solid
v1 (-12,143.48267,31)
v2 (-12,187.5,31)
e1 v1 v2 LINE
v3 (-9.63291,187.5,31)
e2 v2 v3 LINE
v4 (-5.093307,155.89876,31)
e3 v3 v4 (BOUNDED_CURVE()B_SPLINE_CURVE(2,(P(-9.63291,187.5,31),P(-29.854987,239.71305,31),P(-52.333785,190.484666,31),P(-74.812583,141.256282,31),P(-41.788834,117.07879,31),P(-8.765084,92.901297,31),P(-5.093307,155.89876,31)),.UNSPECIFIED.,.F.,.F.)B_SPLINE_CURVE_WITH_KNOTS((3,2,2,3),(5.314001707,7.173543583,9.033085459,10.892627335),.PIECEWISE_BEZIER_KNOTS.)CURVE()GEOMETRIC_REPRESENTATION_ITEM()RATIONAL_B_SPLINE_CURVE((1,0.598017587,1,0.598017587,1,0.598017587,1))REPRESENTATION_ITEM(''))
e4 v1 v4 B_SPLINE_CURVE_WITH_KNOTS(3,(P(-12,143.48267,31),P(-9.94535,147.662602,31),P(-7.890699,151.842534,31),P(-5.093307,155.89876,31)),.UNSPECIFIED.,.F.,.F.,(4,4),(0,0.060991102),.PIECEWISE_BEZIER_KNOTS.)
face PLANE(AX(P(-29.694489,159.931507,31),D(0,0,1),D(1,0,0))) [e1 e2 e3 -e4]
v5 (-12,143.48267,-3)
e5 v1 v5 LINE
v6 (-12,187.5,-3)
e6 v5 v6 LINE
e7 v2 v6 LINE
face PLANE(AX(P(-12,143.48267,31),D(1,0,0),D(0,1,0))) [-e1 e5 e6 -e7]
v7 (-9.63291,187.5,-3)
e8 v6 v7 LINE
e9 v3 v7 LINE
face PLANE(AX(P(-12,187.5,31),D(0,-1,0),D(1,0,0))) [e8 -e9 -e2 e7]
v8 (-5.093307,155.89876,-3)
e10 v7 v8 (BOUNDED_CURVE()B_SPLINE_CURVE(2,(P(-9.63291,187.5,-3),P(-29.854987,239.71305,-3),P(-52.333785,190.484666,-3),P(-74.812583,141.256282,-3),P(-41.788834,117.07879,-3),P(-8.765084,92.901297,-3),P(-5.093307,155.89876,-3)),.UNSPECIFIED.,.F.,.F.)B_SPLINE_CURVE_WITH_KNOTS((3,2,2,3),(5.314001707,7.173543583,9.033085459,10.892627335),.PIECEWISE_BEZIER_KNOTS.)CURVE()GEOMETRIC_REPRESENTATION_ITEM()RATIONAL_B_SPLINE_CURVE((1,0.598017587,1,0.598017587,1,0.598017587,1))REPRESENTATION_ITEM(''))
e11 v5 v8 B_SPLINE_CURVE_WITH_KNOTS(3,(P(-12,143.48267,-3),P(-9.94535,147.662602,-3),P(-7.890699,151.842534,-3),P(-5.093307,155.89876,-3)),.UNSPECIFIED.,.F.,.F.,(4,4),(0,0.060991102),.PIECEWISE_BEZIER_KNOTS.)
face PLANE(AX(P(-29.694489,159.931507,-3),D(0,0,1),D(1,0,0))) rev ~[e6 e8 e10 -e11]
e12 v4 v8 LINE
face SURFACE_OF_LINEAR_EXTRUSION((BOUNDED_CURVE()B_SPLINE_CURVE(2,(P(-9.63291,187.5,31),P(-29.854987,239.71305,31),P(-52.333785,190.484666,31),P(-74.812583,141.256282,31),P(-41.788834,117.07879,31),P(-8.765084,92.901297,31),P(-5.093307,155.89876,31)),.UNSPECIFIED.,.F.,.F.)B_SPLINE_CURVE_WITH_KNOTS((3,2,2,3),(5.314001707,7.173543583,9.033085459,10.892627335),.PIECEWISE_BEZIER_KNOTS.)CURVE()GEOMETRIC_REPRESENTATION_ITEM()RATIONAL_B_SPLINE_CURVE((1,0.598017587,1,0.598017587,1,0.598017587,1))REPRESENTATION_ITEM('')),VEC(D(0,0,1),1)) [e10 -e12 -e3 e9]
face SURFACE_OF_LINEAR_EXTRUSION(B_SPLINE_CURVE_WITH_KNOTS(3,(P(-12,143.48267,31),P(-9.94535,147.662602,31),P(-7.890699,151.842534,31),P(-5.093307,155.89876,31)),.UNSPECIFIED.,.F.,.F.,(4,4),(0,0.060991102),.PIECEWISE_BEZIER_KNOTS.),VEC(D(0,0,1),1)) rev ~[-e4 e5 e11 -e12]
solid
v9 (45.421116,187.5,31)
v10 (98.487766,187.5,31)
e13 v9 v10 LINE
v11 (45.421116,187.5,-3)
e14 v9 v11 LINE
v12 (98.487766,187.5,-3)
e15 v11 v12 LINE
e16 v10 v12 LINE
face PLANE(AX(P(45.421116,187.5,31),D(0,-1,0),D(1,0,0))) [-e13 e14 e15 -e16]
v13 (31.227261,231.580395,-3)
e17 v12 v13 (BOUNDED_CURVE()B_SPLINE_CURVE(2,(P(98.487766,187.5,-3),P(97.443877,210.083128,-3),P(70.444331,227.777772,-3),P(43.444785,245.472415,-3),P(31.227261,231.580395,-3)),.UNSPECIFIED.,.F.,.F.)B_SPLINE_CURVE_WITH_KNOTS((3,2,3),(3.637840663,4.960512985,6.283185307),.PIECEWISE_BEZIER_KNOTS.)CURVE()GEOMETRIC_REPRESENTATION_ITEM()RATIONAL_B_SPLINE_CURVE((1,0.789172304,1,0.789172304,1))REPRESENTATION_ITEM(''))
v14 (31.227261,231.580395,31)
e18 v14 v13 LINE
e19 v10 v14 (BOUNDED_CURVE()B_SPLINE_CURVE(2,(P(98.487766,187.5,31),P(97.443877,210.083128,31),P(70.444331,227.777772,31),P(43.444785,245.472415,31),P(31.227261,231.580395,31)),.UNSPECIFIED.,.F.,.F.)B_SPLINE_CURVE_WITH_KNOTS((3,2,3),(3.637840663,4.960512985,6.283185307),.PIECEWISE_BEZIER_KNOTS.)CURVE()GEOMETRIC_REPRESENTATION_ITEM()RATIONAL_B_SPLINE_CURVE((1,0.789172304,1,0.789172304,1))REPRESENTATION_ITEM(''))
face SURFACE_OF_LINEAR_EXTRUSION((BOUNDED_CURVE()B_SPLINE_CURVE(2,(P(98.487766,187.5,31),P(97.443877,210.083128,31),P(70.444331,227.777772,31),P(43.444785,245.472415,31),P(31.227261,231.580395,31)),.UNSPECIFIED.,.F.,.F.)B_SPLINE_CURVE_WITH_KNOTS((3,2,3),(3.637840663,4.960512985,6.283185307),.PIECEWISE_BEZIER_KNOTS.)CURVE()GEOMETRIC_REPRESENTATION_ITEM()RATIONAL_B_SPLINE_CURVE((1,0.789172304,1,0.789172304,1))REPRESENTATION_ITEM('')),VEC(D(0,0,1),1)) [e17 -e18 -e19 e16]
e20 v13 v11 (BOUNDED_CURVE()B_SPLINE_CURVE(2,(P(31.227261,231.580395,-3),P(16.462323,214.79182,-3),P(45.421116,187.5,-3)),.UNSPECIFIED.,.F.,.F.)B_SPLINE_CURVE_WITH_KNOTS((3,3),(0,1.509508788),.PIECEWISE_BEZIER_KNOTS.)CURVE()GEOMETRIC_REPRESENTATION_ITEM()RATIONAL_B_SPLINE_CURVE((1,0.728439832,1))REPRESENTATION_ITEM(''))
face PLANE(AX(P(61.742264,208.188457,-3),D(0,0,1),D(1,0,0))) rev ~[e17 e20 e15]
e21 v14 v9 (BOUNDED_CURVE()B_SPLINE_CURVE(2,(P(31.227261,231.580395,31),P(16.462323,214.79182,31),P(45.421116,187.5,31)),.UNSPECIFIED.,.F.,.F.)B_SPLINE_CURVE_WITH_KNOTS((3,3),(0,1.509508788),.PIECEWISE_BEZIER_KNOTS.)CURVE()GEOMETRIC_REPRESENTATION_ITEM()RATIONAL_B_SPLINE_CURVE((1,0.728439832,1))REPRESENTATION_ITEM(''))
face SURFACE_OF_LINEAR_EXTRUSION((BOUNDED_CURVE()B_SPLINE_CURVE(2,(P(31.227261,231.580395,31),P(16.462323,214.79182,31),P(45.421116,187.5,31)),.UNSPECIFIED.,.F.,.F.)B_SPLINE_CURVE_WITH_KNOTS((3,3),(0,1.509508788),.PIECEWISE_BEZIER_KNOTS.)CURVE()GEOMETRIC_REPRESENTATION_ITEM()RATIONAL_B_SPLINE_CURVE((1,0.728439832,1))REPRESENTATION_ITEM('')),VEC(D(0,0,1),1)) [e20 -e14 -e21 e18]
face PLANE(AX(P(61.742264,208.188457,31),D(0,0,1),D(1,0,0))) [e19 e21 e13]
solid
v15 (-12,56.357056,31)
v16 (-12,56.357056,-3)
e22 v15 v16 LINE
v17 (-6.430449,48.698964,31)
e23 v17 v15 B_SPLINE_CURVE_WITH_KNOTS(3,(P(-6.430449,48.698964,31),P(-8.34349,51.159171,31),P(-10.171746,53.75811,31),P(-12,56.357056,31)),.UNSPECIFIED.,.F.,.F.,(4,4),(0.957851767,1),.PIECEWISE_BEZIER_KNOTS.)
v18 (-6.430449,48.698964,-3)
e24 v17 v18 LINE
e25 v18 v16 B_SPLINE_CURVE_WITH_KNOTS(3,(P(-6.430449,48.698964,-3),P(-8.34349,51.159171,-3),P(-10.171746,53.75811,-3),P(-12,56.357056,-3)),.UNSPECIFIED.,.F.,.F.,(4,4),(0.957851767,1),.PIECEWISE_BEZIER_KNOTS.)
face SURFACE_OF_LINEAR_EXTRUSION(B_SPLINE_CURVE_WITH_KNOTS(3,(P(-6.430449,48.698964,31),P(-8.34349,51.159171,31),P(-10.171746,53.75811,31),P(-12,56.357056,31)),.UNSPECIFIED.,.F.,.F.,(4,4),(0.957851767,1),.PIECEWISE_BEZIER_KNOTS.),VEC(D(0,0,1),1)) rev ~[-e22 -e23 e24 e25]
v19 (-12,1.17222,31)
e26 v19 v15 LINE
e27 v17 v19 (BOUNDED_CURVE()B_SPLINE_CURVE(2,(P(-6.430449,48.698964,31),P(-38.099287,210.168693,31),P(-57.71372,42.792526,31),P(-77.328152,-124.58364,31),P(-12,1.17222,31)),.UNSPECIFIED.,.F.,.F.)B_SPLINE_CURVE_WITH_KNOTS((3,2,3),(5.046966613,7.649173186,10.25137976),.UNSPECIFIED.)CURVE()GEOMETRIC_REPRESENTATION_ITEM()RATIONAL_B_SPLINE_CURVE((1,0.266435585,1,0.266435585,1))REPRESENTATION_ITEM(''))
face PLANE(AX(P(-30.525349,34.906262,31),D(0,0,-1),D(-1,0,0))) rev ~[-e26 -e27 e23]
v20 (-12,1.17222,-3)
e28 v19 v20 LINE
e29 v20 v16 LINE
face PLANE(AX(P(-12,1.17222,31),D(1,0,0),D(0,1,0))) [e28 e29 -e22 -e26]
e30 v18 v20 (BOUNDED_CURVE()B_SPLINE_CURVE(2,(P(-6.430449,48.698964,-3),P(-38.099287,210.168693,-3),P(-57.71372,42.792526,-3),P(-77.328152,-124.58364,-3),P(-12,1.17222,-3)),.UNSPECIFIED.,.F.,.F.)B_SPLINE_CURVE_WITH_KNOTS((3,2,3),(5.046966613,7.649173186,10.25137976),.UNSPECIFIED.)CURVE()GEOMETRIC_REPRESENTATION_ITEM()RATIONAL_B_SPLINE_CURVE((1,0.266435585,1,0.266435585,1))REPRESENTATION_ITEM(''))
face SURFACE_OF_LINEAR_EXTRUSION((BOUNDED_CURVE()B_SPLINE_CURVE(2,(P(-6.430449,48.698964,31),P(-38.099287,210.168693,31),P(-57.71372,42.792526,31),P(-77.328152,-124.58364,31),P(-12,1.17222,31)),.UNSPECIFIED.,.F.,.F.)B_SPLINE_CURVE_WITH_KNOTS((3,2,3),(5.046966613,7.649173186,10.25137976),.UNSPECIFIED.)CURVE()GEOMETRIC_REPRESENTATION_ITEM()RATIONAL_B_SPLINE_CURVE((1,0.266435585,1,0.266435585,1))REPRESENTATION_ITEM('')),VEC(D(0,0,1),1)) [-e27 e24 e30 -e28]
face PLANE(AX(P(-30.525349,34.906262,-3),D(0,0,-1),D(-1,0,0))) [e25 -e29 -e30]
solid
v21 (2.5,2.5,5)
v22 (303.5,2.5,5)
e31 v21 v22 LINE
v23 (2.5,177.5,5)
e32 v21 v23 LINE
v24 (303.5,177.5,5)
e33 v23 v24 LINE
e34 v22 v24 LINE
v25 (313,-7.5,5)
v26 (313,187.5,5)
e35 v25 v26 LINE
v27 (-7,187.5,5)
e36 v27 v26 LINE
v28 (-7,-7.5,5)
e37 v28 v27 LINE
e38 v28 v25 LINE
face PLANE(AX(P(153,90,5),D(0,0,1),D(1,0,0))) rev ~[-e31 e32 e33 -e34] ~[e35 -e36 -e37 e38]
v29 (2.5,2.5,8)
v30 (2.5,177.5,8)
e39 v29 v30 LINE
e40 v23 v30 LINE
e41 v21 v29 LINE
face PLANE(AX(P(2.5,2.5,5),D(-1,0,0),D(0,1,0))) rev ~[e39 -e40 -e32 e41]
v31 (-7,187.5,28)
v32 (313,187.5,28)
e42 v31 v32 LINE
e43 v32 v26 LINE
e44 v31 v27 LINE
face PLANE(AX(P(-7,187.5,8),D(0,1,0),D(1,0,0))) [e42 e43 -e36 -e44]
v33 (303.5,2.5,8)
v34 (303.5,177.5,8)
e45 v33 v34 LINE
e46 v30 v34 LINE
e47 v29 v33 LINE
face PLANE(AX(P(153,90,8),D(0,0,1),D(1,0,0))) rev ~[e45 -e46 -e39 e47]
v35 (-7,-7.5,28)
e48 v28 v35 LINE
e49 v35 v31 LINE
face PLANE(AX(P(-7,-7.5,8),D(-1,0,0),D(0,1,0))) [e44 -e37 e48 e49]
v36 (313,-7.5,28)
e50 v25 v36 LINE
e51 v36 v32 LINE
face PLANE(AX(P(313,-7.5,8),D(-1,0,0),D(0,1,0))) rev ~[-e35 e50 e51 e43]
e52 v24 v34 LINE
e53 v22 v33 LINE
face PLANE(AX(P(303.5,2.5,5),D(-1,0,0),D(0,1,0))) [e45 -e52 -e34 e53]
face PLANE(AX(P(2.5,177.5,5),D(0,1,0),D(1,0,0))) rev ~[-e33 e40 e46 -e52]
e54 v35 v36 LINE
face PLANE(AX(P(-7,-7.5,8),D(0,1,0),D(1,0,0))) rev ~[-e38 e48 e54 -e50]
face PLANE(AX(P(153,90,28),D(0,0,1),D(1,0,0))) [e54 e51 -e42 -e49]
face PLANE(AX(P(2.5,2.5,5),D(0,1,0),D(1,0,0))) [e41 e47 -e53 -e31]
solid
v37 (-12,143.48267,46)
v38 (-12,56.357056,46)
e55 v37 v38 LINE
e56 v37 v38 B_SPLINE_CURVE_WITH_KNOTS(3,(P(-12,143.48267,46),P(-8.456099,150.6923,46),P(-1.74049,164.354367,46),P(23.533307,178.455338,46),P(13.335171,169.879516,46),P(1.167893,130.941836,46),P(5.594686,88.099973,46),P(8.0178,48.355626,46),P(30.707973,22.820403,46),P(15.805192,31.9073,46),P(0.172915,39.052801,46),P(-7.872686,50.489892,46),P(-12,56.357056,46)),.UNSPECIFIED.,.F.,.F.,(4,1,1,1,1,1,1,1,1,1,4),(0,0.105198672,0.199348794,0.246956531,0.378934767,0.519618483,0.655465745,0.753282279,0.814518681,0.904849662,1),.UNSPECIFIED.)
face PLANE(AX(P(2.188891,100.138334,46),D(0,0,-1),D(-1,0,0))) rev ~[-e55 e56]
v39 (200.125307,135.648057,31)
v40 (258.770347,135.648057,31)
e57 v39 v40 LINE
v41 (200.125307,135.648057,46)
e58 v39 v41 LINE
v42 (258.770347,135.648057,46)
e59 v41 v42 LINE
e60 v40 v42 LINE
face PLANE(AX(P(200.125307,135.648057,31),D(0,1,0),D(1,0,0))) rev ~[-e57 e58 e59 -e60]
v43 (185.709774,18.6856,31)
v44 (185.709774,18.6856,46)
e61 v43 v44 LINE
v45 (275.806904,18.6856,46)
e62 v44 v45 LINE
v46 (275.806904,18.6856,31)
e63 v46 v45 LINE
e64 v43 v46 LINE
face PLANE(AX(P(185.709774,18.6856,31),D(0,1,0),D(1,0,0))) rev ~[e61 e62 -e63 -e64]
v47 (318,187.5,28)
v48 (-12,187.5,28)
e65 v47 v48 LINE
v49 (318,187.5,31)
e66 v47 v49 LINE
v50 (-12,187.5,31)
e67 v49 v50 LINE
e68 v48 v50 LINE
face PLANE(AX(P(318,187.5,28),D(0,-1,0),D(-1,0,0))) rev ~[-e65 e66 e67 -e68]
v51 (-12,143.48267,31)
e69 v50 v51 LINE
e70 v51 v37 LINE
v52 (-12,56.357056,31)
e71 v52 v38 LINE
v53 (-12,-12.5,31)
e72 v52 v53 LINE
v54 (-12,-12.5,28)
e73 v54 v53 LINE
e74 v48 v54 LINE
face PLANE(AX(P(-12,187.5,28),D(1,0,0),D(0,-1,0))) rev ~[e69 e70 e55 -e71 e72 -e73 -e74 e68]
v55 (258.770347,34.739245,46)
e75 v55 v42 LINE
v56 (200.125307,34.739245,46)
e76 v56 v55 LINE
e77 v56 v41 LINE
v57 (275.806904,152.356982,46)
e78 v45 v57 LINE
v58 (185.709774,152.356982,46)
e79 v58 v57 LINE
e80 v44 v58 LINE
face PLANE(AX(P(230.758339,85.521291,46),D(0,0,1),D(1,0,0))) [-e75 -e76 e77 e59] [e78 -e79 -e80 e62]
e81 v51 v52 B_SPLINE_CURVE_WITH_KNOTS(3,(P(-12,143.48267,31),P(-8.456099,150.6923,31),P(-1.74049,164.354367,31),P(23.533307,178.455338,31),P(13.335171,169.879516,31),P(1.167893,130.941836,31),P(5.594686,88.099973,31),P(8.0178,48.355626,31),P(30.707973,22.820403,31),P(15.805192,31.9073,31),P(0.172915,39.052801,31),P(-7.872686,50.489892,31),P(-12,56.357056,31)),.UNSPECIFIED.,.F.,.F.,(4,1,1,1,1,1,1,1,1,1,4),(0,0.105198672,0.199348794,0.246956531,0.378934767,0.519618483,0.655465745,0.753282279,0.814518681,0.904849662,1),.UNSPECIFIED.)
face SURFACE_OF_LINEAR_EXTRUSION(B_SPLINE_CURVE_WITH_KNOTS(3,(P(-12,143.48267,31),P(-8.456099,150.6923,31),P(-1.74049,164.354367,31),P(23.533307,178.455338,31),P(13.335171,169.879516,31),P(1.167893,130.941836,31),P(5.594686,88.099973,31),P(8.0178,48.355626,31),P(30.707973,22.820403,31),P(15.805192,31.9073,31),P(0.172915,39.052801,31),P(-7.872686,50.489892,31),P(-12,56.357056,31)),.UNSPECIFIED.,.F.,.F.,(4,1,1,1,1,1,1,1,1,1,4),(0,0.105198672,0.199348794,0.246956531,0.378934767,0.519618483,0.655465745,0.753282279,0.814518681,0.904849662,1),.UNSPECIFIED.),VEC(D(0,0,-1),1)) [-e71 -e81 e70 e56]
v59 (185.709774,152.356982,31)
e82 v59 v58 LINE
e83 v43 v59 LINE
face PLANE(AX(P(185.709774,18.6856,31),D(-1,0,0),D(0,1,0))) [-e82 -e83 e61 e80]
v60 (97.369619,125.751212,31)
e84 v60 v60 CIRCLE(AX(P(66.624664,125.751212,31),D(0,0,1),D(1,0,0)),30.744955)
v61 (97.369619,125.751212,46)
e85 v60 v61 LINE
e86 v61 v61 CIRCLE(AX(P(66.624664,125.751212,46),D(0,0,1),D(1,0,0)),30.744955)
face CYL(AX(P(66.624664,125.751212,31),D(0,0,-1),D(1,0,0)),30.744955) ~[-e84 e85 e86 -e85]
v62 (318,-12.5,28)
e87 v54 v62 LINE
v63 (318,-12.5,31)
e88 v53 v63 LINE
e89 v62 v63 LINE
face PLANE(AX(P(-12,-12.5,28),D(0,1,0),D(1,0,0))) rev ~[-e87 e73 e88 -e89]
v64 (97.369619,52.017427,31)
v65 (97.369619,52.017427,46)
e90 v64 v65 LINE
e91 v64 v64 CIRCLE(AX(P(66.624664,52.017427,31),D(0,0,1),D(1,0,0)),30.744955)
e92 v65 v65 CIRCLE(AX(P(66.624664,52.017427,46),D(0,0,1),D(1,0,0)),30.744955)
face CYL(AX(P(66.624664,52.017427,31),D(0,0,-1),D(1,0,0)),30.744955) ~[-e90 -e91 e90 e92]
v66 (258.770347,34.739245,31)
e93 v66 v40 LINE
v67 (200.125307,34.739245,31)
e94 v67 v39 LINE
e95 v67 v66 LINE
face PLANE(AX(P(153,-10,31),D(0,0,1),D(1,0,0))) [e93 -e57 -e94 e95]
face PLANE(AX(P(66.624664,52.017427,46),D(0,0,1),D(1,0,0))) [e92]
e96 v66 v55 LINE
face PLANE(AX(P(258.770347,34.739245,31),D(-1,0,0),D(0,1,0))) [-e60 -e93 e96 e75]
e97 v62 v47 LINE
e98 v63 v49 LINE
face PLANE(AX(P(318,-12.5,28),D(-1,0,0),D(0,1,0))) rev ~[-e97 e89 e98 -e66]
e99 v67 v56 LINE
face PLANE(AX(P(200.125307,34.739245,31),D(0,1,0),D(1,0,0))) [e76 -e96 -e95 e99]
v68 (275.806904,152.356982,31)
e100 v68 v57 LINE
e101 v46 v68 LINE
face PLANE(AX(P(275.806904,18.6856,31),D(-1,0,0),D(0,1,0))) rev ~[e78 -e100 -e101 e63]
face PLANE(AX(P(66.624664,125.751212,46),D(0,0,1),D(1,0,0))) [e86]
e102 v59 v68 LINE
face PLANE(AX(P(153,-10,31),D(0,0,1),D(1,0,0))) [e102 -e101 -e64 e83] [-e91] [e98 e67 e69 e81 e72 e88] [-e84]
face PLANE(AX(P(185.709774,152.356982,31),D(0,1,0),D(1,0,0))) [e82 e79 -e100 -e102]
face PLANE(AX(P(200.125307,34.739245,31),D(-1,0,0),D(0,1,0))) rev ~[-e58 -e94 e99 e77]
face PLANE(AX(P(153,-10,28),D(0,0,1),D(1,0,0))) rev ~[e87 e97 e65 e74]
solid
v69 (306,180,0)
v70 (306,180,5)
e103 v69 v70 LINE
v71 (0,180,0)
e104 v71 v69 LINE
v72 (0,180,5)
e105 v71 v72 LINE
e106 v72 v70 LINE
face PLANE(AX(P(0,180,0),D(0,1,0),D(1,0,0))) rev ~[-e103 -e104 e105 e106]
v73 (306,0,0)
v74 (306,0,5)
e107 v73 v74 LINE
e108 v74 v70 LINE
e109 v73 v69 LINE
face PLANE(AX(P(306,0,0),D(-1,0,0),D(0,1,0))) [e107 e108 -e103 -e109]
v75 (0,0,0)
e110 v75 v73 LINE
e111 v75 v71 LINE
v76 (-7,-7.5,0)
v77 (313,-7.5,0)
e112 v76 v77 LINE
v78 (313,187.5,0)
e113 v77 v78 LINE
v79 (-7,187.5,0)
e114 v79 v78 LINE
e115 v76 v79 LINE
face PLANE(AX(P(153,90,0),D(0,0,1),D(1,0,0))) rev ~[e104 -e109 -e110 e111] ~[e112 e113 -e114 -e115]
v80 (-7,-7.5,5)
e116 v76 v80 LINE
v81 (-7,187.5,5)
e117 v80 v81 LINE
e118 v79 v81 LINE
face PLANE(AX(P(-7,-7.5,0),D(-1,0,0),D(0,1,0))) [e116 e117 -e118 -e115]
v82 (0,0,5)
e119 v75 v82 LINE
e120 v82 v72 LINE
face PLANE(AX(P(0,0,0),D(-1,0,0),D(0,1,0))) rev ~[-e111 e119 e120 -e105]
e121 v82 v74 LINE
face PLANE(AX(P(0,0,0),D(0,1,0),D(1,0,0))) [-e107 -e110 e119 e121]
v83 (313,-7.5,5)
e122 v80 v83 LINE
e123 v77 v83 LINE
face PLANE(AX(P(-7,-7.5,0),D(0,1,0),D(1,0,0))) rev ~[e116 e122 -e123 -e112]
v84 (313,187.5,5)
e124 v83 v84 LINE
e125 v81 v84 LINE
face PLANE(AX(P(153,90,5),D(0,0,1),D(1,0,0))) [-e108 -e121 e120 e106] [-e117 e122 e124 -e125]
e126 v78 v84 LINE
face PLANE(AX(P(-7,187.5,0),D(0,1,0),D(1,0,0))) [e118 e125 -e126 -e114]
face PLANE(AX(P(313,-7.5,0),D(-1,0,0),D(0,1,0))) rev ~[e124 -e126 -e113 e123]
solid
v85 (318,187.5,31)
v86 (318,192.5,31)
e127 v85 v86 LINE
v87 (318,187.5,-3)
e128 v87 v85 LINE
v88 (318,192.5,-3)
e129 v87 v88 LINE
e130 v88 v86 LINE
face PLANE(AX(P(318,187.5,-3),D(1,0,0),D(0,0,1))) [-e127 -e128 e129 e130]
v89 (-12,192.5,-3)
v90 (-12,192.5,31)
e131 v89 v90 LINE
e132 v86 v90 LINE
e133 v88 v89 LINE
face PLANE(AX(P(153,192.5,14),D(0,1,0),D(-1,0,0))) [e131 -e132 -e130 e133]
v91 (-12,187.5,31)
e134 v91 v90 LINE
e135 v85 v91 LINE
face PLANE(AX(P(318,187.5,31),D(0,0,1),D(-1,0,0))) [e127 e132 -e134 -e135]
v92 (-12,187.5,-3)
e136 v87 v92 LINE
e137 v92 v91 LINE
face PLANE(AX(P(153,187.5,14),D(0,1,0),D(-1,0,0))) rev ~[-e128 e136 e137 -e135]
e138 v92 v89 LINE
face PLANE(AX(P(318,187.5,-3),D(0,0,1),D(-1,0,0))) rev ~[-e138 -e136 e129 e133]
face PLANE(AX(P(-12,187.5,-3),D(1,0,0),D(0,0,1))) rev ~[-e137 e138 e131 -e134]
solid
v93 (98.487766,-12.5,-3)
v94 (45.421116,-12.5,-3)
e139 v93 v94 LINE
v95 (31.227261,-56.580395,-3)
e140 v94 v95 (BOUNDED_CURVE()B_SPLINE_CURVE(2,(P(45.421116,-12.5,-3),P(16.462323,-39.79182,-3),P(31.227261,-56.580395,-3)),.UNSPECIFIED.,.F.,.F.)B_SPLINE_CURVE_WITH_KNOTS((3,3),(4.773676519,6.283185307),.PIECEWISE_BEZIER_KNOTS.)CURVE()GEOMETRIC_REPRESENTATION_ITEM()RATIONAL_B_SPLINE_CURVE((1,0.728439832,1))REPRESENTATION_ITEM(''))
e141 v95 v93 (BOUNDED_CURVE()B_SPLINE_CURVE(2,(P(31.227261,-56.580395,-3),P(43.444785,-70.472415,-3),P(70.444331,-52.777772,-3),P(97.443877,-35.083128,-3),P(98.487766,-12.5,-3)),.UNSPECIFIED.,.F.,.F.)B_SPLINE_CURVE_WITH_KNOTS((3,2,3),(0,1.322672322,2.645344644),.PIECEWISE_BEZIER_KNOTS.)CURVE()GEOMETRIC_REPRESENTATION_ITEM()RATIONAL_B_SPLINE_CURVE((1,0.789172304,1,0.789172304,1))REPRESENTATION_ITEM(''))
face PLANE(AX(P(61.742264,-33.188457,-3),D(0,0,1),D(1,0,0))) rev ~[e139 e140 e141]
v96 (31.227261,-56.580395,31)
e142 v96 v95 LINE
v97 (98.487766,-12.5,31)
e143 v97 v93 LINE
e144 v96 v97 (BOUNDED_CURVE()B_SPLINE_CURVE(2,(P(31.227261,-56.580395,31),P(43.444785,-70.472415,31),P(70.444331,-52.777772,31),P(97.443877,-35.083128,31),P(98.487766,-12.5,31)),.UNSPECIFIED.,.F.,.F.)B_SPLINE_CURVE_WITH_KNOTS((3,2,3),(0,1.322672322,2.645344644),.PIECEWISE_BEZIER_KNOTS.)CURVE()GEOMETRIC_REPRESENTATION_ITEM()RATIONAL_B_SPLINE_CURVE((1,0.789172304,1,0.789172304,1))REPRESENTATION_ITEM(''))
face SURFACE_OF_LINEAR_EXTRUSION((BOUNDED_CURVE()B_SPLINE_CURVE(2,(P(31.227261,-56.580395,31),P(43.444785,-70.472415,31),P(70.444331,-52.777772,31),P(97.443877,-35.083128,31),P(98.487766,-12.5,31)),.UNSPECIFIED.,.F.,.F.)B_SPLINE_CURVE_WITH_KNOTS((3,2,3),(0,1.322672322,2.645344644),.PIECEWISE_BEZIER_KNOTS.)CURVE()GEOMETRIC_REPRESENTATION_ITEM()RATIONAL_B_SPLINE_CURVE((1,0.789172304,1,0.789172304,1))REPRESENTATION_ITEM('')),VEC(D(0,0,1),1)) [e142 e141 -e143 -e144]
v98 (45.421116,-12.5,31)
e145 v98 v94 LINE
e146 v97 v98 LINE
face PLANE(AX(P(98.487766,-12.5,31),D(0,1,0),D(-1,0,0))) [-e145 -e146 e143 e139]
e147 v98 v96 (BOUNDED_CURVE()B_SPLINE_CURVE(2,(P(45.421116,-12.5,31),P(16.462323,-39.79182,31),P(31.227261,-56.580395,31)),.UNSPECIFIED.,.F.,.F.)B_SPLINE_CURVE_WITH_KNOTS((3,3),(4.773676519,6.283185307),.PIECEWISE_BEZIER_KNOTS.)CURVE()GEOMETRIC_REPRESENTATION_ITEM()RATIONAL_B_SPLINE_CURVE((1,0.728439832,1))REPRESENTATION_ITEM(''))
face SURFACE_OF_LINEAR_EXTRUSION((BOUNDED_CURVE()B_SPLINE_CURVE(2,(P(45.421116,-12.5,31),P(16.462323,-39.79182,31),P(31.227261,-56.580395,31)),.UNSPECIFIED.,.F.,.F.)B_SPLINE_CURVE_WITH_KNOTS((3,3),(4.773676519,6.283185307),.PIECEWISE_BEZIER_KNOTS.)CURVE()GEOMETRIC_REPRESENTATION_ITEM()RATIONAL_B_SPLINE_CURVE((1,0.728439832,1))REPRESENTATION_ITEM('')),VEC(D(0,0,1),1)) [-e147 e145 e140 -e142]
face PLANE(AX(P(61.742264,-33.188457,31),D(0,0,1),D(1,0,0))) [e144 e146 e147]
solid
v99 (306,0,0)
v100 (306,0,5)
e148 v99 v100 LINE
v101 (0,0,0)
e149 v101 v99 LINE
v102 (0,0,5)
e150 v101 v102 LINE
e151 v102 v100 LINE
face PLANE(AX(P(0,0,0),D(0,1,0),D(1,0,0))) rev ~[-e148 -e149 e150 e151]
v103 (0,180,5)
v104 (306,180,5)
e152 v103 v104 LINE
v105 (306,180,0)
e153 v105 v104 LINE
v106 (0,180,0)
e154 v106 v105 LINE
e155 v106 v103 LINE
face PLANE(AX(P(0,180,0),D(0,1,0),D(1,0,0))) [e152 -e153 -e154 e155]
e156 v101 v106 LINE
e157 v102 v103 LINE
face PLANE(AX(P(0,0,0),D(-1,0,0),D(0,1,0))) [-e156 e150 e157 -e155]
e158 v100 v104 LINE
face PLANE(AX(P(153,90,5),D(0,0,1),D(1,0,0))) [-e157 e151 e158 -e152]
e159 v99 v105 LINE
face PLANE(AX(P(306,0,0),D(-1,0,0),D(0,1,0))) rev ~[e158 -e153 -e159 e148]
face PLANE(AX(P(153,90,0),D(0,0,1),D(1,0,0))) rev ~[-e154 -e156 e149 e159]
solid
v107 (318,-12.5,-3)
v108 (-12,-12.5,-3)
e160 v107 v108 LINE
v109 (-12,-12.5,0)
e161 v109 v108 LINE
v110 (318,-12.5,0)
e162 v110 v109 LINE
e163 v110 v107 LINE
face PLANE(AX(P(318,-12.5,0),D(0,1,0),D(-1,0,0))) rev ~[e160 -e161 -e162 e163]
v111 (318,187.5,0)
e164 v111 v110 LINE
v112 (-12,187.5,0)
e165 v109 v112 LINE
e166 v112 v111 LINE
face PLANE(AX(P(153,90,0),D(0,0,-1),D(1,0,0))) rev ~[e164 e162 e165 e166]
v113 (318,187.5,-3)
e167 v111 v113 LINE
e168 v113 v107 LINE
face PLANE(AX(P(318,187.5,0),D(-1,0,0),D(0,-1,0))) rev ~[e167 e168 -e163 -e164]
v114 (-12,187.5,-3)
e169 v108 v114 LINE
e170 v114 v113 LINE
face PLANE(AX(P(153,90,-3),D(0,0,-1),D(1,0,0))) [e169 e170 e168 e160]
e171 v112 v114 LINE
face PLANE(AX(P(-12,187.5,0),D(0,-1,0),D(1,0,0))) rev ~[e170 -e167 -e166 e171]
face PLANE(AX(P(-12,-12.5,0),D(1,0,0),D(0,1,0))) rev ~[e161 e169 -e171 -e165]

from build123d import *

# Parameters (mm, degrees)
F0_W      = 306
F0_H      = 180
F1_DEPTH  = 5
F2_W      = 320
F2_H      = 195
F3_DEPTH  = 5
F5_W      = 320
F5_H      = 195
F5_H_2    = 5
F6_DEPTH  = 3
F7_W      = 320
F7_H      = 195
F7_W_2    = 301
F7_H_2    = 175
F8_DEPTH  = 3
F9_W      = 320
F9_H      = 195
F10_DEPTH = 20
F11_W     = 320
F11_H     = 5
F11_H_2   = 195
F12_DEPTH = 3
F13_W     = 330
F13_H     = 34
F14_DEPTH = 5
F15_R     = 30.7449551085
F15_W     = 90.0971293449
F15_H     = 133.6713824421
F15_W_2   = 58.6450397968
F15_H_2   = 100.9088121355
F16_DEPTH = 15
F18_DEPTH = 34


with BuildPart() as f1:
    # F0 (on Top) → F1 (new body)
    with BuildSketch(Plane.XY):
        with Locations((153, 90)):
            Rectangle(F0_W, F0_H)
    extrude(amount=F1_DEPTH)


with BuildPart() as f3:
    # F2 (on Top) → F3 (new body)
    with BuildSketch(Plane.XY):
        with Locations((153, 90)):
            Rectangle(F2_W, F2_H)
    extrude(amount=F3_DEPTH)

    # F4: cut F1
    add(f1.part, mode=Mode.SUBTRACT)


with BuildPart() as f6:
    # F5 (on face) → F6 (new body)
    with BuildSketch(Plane(origin=(0, 0, 0), x_dir=(1, 0, 0), z_dir=(0, 0, -1))):
        with Locations((153, -90)):
            Rectangle(F5_W, F5_H)
        Polygon((313, 7.5), (313, -187.5), (318, -187.5), (318, 12.5), (313, 12.5), align=None)
        Polygon((-12, -187.5), (-7, -187.5), (-7, 7.5), (-7, 12.5), (-12, 12.5), align=None)
        with Locations((153, 10)):
            Rectangle(F5_W, F5_H_2)
    extrude(amount=F6_DEPTH)


with BuildPart() as f8:
    # F7 (on face) → F8 (new body)
    with BuildSketch(Plane.XY.offset(5)):
        with Locations((153, 90)):
            Rectangle(F7_W, F7_H)
        with Locations((153, 90)):
            Rectangle(F7_W_2, F7_H_2, mode=Mode.SUBTRACT)
    extrude(amount=F8_DEPTH)

    # F9 (on face) → F10 (join)
    with BuildSketch(Plane.XY.offset(8)):
        with Locations((153, 90)):
            Rectangle(F9_W, F9_H)
    extrude(amount=F10_DEPTH)


with BuildPart() as f12:
    # F11 (on face) → F12 (new body)
    with BuildSketch(Plane.XY.offset(28)):
        with Locations((153, -10)):
            Rectangle(F11_W, F11_H)
        with Locations((153, 90)):
            Rectangle(F11_W, F11_H_2)
        Polygon((313, 187.5), (313, -7.5), (313, -12.5), (318, -12.5), (318, 187.5), align=None)
        Polygon((-7, -12.5), (-7, -7.5), (-7, 187.5), (-12, 187.5), (-12, -12.5), align=None)
    extrude(amount=F12_DEPTH)

    # F15 (on face) → F16 (join)
    with BuildSketch(Plane.XY.offset(31)):
        with Locations((66.6246637702, 125.7512122393)):
            Circle(F15_R)
        with Locations((66.6246637702, 52.0174270496)):
            Circle(F15_R)
        with BuildLine():
            add(Edge.make_bspline(
                [(-12, 143.482670188), (-8.4560991253, 150.6922997365), (-1.740489571, 164.354366727), (23.5333067725, 178.4553375923), (13.3351713308, 169.8795160599), (1.1678930231, 130.9418356581), (5.5946860848, 88.0999725822), (8.0178004618, 48.3556264894), (30.7079728341, 22.8204028991), (15.8051919315, 31.9073003897), (0.1729151164, 39.052800566), (-7.8726862997, 50.4898921624), (-12, 56.3570559025)],
                knots=[0, 0, 0, 0, 0.1051986722, 0.1993487942, 0.2469565312, 0.3789347665, 0.5196184826, 0.655465745, 0.7532822793, 0.8145186809, 0.9048496625, 1, 1, 1, 1], degree=3))
            Line((-12, 143.482670188), (-12, 56.3570559025))
        make_face()
        with Locations((230.7583391666, 85.5212910101)):
            Rectangle(F15_W, F15_H)
        with Locations((229.4478267431, 85.193650797)):
            Rectangle(F15_W_2, F15_H_2, mode=Mode.SUBTRACT)
    extrude(amount=F16_DEPTH)


with BuildPart() as f14:
    # F13 (on face) → F14 (new body)
    with BuildSketch(Plane(origin=(0, 187.5, 0), x_dir=(-1, 0, 0), z_dir=(0, 1, 0))):
        with Locations((-153, 14)):
            Rectangle(F13_W, F13_H)
    extrude(amount=F14_DEPTH)


with BuildPart() as f18:
    # F17 (on face) → F18 (new body, through all)
    with BuildSketch(Plane.XY.offset(31)):
        with BuildLine():
            add(Edge.make_bspline(
                [(-6.4304488837, 48.6989639499), (-8.3434899275, 51.1591705456), (-10.1717460748, 53.7581099738), (-12, 56.3570559025)],
                knots=[0.9578517674, 0.9578517674, 0.9578517674, 0.9578517674, 1, 1, 1, 1], degree=3))
            add(Edge.make_bspline(
                [(-6.4304488837, 48.6989639499), (-38.0992871239, 210.1686925871), (-57.7137195615, 42.7925264452), (-77.3281519992, -124.5836396968), (-12, 1.1722197553)],
                knots=[5.0469666126, 5.0469666126, 5.0469666126, 7.6491731862, 7.6491731862, 10.2513797599, 10.2513797599, 10.2513797599], degree=2, weights=[1, 0.266435585, 1, 0.266435585, 1]))
            Line((-12, 1.1722197553), (-12, 56.3570559025))
        make_face()
    extrude(amount=-F18_DEPTH)


with BuildPart() as f18b:
    # F17 (on face) → F18, piece 2 (new body, through all)
    with BuildSketch(Plane.XY.offset(31)):
        with BuildLine():
            Line((-12, 187.5), (-9.6329098682, 187.5))
            add(Edge.make_bspline(
                [(-9.6329098682, 187.5), (-29.8549870938, 239.7130504336), (-52.3337852314, 190.484666173), (-74.812583369, 141.2562819125), (-41.7888337095, 117.0787895145), (-8.76508405, 92.9012971165), (-5.0933067813, 155.8987599577)],
                knots=[5.3140017065, 5.3140017065, 5.3140017065, 7.1735435828, 7.1735435828, 9.0330854591, 9.0330854591, 10.8926273354, 10.8926273354, 10.8926273354], degree=2, weights=[1, 0.5980175871, 1, 0.5980175871, 1, 0.5980175871, 1]))
            add(Edge.make_bspline(
                [(-12, 143.482670188), (-9.9453503048, 147.6626017601), (-7.8906991897, 151.8425339223), (-5.0933067813, 155.8987599577)],
                knots=[0, 0, 0, 0, 0.060991102, 0.060991102, 0.060991102, 0.060991102], degree=3))
            Line((-12, 143.482670188), (-12, 187.5))
        make_face()
    extrude(amount=-F18_DEPTH)


with BuildPart() as f18c:
    # F17 (on face) → F18, piece 3 (new body, through all)
    with BuildSketch(Plane.XY.offset(31)):
        with BuildLine():
            Line((98.487765613, -12.5), (45.4211161304, -12.5))
            add(Edge.make_bspline(
                [(45.4211161304, -12.5), (16.4623234608, -39.7918203939), (31.227260828, -56.5803945065)],
                knots=[4.7736765188, 4.7736765188, 4.7736765188, 6.2831853072, 6.2831853072, 6.2831853072], degree=2, weights=[1, 0.7284398321, 1]))
            add(Edge.make_bspline(
                [(31.227260828, -56.5803945065), (43.444785004, -70.4724148381), (70.4443309542, -52.7777715881), (97.4438769045, -35.0831283382), (98.487765613, -12.5)],
                knots=[0, 0, 0, 1.3226723219, 1.3226723219, 2.6453446438, 2.6453446438, 2.6453446438], degree=2, weights=[1, 0.7891723038, 1, 0.7891723038, 1]))
        make_face()
    extrude(amount=-F18_DEPTH)


with BuildPart() as f18d:
    # F17 (on face) → F18, piece 4 (new body, through all)
    with BuildSketch(Plane.XY.offset(31)):
        with BuildLine():
            add(Edge.make_bspline(
                [(31.227260828, 231.5803945065), (16.4623234608, 214.7918203939), (45.4211161304, 187.5)],
                knots=[0, 0, 0, 1.5095087884, 1.5095087884, 1.5095087884], degree=2, weights=[1, 0.7284398321, 1]))
            Line((45.4211161304, 187.5), (98.487765613, 187.5))
            add(Edge.make_bspline(
                [(98.487765613, 187.5), (97.4438769045, 210.0831283382), (70.4443309542, 227.7777715881), (43.444785004, 245.4724148381), (31.227260828, 231.5803945065)],
                knots=[3.6378406634, 3.6378406634, 3.6378406634, 4.9605129853, 4.9605129853, 6.2831853072, 6.2831853072, 6.2831853072], degree=2, weights=[1, 0.7891723038, 1, 0.7891723038, 1]))
        make_face()
    extrude(amount=-F18_DEPTH)


solid = Compound([f1.part, f3.part, f6.part, f8.part, f12.part, f14.part, f18.part, f18b.part, f18c.part, f18d.part])
